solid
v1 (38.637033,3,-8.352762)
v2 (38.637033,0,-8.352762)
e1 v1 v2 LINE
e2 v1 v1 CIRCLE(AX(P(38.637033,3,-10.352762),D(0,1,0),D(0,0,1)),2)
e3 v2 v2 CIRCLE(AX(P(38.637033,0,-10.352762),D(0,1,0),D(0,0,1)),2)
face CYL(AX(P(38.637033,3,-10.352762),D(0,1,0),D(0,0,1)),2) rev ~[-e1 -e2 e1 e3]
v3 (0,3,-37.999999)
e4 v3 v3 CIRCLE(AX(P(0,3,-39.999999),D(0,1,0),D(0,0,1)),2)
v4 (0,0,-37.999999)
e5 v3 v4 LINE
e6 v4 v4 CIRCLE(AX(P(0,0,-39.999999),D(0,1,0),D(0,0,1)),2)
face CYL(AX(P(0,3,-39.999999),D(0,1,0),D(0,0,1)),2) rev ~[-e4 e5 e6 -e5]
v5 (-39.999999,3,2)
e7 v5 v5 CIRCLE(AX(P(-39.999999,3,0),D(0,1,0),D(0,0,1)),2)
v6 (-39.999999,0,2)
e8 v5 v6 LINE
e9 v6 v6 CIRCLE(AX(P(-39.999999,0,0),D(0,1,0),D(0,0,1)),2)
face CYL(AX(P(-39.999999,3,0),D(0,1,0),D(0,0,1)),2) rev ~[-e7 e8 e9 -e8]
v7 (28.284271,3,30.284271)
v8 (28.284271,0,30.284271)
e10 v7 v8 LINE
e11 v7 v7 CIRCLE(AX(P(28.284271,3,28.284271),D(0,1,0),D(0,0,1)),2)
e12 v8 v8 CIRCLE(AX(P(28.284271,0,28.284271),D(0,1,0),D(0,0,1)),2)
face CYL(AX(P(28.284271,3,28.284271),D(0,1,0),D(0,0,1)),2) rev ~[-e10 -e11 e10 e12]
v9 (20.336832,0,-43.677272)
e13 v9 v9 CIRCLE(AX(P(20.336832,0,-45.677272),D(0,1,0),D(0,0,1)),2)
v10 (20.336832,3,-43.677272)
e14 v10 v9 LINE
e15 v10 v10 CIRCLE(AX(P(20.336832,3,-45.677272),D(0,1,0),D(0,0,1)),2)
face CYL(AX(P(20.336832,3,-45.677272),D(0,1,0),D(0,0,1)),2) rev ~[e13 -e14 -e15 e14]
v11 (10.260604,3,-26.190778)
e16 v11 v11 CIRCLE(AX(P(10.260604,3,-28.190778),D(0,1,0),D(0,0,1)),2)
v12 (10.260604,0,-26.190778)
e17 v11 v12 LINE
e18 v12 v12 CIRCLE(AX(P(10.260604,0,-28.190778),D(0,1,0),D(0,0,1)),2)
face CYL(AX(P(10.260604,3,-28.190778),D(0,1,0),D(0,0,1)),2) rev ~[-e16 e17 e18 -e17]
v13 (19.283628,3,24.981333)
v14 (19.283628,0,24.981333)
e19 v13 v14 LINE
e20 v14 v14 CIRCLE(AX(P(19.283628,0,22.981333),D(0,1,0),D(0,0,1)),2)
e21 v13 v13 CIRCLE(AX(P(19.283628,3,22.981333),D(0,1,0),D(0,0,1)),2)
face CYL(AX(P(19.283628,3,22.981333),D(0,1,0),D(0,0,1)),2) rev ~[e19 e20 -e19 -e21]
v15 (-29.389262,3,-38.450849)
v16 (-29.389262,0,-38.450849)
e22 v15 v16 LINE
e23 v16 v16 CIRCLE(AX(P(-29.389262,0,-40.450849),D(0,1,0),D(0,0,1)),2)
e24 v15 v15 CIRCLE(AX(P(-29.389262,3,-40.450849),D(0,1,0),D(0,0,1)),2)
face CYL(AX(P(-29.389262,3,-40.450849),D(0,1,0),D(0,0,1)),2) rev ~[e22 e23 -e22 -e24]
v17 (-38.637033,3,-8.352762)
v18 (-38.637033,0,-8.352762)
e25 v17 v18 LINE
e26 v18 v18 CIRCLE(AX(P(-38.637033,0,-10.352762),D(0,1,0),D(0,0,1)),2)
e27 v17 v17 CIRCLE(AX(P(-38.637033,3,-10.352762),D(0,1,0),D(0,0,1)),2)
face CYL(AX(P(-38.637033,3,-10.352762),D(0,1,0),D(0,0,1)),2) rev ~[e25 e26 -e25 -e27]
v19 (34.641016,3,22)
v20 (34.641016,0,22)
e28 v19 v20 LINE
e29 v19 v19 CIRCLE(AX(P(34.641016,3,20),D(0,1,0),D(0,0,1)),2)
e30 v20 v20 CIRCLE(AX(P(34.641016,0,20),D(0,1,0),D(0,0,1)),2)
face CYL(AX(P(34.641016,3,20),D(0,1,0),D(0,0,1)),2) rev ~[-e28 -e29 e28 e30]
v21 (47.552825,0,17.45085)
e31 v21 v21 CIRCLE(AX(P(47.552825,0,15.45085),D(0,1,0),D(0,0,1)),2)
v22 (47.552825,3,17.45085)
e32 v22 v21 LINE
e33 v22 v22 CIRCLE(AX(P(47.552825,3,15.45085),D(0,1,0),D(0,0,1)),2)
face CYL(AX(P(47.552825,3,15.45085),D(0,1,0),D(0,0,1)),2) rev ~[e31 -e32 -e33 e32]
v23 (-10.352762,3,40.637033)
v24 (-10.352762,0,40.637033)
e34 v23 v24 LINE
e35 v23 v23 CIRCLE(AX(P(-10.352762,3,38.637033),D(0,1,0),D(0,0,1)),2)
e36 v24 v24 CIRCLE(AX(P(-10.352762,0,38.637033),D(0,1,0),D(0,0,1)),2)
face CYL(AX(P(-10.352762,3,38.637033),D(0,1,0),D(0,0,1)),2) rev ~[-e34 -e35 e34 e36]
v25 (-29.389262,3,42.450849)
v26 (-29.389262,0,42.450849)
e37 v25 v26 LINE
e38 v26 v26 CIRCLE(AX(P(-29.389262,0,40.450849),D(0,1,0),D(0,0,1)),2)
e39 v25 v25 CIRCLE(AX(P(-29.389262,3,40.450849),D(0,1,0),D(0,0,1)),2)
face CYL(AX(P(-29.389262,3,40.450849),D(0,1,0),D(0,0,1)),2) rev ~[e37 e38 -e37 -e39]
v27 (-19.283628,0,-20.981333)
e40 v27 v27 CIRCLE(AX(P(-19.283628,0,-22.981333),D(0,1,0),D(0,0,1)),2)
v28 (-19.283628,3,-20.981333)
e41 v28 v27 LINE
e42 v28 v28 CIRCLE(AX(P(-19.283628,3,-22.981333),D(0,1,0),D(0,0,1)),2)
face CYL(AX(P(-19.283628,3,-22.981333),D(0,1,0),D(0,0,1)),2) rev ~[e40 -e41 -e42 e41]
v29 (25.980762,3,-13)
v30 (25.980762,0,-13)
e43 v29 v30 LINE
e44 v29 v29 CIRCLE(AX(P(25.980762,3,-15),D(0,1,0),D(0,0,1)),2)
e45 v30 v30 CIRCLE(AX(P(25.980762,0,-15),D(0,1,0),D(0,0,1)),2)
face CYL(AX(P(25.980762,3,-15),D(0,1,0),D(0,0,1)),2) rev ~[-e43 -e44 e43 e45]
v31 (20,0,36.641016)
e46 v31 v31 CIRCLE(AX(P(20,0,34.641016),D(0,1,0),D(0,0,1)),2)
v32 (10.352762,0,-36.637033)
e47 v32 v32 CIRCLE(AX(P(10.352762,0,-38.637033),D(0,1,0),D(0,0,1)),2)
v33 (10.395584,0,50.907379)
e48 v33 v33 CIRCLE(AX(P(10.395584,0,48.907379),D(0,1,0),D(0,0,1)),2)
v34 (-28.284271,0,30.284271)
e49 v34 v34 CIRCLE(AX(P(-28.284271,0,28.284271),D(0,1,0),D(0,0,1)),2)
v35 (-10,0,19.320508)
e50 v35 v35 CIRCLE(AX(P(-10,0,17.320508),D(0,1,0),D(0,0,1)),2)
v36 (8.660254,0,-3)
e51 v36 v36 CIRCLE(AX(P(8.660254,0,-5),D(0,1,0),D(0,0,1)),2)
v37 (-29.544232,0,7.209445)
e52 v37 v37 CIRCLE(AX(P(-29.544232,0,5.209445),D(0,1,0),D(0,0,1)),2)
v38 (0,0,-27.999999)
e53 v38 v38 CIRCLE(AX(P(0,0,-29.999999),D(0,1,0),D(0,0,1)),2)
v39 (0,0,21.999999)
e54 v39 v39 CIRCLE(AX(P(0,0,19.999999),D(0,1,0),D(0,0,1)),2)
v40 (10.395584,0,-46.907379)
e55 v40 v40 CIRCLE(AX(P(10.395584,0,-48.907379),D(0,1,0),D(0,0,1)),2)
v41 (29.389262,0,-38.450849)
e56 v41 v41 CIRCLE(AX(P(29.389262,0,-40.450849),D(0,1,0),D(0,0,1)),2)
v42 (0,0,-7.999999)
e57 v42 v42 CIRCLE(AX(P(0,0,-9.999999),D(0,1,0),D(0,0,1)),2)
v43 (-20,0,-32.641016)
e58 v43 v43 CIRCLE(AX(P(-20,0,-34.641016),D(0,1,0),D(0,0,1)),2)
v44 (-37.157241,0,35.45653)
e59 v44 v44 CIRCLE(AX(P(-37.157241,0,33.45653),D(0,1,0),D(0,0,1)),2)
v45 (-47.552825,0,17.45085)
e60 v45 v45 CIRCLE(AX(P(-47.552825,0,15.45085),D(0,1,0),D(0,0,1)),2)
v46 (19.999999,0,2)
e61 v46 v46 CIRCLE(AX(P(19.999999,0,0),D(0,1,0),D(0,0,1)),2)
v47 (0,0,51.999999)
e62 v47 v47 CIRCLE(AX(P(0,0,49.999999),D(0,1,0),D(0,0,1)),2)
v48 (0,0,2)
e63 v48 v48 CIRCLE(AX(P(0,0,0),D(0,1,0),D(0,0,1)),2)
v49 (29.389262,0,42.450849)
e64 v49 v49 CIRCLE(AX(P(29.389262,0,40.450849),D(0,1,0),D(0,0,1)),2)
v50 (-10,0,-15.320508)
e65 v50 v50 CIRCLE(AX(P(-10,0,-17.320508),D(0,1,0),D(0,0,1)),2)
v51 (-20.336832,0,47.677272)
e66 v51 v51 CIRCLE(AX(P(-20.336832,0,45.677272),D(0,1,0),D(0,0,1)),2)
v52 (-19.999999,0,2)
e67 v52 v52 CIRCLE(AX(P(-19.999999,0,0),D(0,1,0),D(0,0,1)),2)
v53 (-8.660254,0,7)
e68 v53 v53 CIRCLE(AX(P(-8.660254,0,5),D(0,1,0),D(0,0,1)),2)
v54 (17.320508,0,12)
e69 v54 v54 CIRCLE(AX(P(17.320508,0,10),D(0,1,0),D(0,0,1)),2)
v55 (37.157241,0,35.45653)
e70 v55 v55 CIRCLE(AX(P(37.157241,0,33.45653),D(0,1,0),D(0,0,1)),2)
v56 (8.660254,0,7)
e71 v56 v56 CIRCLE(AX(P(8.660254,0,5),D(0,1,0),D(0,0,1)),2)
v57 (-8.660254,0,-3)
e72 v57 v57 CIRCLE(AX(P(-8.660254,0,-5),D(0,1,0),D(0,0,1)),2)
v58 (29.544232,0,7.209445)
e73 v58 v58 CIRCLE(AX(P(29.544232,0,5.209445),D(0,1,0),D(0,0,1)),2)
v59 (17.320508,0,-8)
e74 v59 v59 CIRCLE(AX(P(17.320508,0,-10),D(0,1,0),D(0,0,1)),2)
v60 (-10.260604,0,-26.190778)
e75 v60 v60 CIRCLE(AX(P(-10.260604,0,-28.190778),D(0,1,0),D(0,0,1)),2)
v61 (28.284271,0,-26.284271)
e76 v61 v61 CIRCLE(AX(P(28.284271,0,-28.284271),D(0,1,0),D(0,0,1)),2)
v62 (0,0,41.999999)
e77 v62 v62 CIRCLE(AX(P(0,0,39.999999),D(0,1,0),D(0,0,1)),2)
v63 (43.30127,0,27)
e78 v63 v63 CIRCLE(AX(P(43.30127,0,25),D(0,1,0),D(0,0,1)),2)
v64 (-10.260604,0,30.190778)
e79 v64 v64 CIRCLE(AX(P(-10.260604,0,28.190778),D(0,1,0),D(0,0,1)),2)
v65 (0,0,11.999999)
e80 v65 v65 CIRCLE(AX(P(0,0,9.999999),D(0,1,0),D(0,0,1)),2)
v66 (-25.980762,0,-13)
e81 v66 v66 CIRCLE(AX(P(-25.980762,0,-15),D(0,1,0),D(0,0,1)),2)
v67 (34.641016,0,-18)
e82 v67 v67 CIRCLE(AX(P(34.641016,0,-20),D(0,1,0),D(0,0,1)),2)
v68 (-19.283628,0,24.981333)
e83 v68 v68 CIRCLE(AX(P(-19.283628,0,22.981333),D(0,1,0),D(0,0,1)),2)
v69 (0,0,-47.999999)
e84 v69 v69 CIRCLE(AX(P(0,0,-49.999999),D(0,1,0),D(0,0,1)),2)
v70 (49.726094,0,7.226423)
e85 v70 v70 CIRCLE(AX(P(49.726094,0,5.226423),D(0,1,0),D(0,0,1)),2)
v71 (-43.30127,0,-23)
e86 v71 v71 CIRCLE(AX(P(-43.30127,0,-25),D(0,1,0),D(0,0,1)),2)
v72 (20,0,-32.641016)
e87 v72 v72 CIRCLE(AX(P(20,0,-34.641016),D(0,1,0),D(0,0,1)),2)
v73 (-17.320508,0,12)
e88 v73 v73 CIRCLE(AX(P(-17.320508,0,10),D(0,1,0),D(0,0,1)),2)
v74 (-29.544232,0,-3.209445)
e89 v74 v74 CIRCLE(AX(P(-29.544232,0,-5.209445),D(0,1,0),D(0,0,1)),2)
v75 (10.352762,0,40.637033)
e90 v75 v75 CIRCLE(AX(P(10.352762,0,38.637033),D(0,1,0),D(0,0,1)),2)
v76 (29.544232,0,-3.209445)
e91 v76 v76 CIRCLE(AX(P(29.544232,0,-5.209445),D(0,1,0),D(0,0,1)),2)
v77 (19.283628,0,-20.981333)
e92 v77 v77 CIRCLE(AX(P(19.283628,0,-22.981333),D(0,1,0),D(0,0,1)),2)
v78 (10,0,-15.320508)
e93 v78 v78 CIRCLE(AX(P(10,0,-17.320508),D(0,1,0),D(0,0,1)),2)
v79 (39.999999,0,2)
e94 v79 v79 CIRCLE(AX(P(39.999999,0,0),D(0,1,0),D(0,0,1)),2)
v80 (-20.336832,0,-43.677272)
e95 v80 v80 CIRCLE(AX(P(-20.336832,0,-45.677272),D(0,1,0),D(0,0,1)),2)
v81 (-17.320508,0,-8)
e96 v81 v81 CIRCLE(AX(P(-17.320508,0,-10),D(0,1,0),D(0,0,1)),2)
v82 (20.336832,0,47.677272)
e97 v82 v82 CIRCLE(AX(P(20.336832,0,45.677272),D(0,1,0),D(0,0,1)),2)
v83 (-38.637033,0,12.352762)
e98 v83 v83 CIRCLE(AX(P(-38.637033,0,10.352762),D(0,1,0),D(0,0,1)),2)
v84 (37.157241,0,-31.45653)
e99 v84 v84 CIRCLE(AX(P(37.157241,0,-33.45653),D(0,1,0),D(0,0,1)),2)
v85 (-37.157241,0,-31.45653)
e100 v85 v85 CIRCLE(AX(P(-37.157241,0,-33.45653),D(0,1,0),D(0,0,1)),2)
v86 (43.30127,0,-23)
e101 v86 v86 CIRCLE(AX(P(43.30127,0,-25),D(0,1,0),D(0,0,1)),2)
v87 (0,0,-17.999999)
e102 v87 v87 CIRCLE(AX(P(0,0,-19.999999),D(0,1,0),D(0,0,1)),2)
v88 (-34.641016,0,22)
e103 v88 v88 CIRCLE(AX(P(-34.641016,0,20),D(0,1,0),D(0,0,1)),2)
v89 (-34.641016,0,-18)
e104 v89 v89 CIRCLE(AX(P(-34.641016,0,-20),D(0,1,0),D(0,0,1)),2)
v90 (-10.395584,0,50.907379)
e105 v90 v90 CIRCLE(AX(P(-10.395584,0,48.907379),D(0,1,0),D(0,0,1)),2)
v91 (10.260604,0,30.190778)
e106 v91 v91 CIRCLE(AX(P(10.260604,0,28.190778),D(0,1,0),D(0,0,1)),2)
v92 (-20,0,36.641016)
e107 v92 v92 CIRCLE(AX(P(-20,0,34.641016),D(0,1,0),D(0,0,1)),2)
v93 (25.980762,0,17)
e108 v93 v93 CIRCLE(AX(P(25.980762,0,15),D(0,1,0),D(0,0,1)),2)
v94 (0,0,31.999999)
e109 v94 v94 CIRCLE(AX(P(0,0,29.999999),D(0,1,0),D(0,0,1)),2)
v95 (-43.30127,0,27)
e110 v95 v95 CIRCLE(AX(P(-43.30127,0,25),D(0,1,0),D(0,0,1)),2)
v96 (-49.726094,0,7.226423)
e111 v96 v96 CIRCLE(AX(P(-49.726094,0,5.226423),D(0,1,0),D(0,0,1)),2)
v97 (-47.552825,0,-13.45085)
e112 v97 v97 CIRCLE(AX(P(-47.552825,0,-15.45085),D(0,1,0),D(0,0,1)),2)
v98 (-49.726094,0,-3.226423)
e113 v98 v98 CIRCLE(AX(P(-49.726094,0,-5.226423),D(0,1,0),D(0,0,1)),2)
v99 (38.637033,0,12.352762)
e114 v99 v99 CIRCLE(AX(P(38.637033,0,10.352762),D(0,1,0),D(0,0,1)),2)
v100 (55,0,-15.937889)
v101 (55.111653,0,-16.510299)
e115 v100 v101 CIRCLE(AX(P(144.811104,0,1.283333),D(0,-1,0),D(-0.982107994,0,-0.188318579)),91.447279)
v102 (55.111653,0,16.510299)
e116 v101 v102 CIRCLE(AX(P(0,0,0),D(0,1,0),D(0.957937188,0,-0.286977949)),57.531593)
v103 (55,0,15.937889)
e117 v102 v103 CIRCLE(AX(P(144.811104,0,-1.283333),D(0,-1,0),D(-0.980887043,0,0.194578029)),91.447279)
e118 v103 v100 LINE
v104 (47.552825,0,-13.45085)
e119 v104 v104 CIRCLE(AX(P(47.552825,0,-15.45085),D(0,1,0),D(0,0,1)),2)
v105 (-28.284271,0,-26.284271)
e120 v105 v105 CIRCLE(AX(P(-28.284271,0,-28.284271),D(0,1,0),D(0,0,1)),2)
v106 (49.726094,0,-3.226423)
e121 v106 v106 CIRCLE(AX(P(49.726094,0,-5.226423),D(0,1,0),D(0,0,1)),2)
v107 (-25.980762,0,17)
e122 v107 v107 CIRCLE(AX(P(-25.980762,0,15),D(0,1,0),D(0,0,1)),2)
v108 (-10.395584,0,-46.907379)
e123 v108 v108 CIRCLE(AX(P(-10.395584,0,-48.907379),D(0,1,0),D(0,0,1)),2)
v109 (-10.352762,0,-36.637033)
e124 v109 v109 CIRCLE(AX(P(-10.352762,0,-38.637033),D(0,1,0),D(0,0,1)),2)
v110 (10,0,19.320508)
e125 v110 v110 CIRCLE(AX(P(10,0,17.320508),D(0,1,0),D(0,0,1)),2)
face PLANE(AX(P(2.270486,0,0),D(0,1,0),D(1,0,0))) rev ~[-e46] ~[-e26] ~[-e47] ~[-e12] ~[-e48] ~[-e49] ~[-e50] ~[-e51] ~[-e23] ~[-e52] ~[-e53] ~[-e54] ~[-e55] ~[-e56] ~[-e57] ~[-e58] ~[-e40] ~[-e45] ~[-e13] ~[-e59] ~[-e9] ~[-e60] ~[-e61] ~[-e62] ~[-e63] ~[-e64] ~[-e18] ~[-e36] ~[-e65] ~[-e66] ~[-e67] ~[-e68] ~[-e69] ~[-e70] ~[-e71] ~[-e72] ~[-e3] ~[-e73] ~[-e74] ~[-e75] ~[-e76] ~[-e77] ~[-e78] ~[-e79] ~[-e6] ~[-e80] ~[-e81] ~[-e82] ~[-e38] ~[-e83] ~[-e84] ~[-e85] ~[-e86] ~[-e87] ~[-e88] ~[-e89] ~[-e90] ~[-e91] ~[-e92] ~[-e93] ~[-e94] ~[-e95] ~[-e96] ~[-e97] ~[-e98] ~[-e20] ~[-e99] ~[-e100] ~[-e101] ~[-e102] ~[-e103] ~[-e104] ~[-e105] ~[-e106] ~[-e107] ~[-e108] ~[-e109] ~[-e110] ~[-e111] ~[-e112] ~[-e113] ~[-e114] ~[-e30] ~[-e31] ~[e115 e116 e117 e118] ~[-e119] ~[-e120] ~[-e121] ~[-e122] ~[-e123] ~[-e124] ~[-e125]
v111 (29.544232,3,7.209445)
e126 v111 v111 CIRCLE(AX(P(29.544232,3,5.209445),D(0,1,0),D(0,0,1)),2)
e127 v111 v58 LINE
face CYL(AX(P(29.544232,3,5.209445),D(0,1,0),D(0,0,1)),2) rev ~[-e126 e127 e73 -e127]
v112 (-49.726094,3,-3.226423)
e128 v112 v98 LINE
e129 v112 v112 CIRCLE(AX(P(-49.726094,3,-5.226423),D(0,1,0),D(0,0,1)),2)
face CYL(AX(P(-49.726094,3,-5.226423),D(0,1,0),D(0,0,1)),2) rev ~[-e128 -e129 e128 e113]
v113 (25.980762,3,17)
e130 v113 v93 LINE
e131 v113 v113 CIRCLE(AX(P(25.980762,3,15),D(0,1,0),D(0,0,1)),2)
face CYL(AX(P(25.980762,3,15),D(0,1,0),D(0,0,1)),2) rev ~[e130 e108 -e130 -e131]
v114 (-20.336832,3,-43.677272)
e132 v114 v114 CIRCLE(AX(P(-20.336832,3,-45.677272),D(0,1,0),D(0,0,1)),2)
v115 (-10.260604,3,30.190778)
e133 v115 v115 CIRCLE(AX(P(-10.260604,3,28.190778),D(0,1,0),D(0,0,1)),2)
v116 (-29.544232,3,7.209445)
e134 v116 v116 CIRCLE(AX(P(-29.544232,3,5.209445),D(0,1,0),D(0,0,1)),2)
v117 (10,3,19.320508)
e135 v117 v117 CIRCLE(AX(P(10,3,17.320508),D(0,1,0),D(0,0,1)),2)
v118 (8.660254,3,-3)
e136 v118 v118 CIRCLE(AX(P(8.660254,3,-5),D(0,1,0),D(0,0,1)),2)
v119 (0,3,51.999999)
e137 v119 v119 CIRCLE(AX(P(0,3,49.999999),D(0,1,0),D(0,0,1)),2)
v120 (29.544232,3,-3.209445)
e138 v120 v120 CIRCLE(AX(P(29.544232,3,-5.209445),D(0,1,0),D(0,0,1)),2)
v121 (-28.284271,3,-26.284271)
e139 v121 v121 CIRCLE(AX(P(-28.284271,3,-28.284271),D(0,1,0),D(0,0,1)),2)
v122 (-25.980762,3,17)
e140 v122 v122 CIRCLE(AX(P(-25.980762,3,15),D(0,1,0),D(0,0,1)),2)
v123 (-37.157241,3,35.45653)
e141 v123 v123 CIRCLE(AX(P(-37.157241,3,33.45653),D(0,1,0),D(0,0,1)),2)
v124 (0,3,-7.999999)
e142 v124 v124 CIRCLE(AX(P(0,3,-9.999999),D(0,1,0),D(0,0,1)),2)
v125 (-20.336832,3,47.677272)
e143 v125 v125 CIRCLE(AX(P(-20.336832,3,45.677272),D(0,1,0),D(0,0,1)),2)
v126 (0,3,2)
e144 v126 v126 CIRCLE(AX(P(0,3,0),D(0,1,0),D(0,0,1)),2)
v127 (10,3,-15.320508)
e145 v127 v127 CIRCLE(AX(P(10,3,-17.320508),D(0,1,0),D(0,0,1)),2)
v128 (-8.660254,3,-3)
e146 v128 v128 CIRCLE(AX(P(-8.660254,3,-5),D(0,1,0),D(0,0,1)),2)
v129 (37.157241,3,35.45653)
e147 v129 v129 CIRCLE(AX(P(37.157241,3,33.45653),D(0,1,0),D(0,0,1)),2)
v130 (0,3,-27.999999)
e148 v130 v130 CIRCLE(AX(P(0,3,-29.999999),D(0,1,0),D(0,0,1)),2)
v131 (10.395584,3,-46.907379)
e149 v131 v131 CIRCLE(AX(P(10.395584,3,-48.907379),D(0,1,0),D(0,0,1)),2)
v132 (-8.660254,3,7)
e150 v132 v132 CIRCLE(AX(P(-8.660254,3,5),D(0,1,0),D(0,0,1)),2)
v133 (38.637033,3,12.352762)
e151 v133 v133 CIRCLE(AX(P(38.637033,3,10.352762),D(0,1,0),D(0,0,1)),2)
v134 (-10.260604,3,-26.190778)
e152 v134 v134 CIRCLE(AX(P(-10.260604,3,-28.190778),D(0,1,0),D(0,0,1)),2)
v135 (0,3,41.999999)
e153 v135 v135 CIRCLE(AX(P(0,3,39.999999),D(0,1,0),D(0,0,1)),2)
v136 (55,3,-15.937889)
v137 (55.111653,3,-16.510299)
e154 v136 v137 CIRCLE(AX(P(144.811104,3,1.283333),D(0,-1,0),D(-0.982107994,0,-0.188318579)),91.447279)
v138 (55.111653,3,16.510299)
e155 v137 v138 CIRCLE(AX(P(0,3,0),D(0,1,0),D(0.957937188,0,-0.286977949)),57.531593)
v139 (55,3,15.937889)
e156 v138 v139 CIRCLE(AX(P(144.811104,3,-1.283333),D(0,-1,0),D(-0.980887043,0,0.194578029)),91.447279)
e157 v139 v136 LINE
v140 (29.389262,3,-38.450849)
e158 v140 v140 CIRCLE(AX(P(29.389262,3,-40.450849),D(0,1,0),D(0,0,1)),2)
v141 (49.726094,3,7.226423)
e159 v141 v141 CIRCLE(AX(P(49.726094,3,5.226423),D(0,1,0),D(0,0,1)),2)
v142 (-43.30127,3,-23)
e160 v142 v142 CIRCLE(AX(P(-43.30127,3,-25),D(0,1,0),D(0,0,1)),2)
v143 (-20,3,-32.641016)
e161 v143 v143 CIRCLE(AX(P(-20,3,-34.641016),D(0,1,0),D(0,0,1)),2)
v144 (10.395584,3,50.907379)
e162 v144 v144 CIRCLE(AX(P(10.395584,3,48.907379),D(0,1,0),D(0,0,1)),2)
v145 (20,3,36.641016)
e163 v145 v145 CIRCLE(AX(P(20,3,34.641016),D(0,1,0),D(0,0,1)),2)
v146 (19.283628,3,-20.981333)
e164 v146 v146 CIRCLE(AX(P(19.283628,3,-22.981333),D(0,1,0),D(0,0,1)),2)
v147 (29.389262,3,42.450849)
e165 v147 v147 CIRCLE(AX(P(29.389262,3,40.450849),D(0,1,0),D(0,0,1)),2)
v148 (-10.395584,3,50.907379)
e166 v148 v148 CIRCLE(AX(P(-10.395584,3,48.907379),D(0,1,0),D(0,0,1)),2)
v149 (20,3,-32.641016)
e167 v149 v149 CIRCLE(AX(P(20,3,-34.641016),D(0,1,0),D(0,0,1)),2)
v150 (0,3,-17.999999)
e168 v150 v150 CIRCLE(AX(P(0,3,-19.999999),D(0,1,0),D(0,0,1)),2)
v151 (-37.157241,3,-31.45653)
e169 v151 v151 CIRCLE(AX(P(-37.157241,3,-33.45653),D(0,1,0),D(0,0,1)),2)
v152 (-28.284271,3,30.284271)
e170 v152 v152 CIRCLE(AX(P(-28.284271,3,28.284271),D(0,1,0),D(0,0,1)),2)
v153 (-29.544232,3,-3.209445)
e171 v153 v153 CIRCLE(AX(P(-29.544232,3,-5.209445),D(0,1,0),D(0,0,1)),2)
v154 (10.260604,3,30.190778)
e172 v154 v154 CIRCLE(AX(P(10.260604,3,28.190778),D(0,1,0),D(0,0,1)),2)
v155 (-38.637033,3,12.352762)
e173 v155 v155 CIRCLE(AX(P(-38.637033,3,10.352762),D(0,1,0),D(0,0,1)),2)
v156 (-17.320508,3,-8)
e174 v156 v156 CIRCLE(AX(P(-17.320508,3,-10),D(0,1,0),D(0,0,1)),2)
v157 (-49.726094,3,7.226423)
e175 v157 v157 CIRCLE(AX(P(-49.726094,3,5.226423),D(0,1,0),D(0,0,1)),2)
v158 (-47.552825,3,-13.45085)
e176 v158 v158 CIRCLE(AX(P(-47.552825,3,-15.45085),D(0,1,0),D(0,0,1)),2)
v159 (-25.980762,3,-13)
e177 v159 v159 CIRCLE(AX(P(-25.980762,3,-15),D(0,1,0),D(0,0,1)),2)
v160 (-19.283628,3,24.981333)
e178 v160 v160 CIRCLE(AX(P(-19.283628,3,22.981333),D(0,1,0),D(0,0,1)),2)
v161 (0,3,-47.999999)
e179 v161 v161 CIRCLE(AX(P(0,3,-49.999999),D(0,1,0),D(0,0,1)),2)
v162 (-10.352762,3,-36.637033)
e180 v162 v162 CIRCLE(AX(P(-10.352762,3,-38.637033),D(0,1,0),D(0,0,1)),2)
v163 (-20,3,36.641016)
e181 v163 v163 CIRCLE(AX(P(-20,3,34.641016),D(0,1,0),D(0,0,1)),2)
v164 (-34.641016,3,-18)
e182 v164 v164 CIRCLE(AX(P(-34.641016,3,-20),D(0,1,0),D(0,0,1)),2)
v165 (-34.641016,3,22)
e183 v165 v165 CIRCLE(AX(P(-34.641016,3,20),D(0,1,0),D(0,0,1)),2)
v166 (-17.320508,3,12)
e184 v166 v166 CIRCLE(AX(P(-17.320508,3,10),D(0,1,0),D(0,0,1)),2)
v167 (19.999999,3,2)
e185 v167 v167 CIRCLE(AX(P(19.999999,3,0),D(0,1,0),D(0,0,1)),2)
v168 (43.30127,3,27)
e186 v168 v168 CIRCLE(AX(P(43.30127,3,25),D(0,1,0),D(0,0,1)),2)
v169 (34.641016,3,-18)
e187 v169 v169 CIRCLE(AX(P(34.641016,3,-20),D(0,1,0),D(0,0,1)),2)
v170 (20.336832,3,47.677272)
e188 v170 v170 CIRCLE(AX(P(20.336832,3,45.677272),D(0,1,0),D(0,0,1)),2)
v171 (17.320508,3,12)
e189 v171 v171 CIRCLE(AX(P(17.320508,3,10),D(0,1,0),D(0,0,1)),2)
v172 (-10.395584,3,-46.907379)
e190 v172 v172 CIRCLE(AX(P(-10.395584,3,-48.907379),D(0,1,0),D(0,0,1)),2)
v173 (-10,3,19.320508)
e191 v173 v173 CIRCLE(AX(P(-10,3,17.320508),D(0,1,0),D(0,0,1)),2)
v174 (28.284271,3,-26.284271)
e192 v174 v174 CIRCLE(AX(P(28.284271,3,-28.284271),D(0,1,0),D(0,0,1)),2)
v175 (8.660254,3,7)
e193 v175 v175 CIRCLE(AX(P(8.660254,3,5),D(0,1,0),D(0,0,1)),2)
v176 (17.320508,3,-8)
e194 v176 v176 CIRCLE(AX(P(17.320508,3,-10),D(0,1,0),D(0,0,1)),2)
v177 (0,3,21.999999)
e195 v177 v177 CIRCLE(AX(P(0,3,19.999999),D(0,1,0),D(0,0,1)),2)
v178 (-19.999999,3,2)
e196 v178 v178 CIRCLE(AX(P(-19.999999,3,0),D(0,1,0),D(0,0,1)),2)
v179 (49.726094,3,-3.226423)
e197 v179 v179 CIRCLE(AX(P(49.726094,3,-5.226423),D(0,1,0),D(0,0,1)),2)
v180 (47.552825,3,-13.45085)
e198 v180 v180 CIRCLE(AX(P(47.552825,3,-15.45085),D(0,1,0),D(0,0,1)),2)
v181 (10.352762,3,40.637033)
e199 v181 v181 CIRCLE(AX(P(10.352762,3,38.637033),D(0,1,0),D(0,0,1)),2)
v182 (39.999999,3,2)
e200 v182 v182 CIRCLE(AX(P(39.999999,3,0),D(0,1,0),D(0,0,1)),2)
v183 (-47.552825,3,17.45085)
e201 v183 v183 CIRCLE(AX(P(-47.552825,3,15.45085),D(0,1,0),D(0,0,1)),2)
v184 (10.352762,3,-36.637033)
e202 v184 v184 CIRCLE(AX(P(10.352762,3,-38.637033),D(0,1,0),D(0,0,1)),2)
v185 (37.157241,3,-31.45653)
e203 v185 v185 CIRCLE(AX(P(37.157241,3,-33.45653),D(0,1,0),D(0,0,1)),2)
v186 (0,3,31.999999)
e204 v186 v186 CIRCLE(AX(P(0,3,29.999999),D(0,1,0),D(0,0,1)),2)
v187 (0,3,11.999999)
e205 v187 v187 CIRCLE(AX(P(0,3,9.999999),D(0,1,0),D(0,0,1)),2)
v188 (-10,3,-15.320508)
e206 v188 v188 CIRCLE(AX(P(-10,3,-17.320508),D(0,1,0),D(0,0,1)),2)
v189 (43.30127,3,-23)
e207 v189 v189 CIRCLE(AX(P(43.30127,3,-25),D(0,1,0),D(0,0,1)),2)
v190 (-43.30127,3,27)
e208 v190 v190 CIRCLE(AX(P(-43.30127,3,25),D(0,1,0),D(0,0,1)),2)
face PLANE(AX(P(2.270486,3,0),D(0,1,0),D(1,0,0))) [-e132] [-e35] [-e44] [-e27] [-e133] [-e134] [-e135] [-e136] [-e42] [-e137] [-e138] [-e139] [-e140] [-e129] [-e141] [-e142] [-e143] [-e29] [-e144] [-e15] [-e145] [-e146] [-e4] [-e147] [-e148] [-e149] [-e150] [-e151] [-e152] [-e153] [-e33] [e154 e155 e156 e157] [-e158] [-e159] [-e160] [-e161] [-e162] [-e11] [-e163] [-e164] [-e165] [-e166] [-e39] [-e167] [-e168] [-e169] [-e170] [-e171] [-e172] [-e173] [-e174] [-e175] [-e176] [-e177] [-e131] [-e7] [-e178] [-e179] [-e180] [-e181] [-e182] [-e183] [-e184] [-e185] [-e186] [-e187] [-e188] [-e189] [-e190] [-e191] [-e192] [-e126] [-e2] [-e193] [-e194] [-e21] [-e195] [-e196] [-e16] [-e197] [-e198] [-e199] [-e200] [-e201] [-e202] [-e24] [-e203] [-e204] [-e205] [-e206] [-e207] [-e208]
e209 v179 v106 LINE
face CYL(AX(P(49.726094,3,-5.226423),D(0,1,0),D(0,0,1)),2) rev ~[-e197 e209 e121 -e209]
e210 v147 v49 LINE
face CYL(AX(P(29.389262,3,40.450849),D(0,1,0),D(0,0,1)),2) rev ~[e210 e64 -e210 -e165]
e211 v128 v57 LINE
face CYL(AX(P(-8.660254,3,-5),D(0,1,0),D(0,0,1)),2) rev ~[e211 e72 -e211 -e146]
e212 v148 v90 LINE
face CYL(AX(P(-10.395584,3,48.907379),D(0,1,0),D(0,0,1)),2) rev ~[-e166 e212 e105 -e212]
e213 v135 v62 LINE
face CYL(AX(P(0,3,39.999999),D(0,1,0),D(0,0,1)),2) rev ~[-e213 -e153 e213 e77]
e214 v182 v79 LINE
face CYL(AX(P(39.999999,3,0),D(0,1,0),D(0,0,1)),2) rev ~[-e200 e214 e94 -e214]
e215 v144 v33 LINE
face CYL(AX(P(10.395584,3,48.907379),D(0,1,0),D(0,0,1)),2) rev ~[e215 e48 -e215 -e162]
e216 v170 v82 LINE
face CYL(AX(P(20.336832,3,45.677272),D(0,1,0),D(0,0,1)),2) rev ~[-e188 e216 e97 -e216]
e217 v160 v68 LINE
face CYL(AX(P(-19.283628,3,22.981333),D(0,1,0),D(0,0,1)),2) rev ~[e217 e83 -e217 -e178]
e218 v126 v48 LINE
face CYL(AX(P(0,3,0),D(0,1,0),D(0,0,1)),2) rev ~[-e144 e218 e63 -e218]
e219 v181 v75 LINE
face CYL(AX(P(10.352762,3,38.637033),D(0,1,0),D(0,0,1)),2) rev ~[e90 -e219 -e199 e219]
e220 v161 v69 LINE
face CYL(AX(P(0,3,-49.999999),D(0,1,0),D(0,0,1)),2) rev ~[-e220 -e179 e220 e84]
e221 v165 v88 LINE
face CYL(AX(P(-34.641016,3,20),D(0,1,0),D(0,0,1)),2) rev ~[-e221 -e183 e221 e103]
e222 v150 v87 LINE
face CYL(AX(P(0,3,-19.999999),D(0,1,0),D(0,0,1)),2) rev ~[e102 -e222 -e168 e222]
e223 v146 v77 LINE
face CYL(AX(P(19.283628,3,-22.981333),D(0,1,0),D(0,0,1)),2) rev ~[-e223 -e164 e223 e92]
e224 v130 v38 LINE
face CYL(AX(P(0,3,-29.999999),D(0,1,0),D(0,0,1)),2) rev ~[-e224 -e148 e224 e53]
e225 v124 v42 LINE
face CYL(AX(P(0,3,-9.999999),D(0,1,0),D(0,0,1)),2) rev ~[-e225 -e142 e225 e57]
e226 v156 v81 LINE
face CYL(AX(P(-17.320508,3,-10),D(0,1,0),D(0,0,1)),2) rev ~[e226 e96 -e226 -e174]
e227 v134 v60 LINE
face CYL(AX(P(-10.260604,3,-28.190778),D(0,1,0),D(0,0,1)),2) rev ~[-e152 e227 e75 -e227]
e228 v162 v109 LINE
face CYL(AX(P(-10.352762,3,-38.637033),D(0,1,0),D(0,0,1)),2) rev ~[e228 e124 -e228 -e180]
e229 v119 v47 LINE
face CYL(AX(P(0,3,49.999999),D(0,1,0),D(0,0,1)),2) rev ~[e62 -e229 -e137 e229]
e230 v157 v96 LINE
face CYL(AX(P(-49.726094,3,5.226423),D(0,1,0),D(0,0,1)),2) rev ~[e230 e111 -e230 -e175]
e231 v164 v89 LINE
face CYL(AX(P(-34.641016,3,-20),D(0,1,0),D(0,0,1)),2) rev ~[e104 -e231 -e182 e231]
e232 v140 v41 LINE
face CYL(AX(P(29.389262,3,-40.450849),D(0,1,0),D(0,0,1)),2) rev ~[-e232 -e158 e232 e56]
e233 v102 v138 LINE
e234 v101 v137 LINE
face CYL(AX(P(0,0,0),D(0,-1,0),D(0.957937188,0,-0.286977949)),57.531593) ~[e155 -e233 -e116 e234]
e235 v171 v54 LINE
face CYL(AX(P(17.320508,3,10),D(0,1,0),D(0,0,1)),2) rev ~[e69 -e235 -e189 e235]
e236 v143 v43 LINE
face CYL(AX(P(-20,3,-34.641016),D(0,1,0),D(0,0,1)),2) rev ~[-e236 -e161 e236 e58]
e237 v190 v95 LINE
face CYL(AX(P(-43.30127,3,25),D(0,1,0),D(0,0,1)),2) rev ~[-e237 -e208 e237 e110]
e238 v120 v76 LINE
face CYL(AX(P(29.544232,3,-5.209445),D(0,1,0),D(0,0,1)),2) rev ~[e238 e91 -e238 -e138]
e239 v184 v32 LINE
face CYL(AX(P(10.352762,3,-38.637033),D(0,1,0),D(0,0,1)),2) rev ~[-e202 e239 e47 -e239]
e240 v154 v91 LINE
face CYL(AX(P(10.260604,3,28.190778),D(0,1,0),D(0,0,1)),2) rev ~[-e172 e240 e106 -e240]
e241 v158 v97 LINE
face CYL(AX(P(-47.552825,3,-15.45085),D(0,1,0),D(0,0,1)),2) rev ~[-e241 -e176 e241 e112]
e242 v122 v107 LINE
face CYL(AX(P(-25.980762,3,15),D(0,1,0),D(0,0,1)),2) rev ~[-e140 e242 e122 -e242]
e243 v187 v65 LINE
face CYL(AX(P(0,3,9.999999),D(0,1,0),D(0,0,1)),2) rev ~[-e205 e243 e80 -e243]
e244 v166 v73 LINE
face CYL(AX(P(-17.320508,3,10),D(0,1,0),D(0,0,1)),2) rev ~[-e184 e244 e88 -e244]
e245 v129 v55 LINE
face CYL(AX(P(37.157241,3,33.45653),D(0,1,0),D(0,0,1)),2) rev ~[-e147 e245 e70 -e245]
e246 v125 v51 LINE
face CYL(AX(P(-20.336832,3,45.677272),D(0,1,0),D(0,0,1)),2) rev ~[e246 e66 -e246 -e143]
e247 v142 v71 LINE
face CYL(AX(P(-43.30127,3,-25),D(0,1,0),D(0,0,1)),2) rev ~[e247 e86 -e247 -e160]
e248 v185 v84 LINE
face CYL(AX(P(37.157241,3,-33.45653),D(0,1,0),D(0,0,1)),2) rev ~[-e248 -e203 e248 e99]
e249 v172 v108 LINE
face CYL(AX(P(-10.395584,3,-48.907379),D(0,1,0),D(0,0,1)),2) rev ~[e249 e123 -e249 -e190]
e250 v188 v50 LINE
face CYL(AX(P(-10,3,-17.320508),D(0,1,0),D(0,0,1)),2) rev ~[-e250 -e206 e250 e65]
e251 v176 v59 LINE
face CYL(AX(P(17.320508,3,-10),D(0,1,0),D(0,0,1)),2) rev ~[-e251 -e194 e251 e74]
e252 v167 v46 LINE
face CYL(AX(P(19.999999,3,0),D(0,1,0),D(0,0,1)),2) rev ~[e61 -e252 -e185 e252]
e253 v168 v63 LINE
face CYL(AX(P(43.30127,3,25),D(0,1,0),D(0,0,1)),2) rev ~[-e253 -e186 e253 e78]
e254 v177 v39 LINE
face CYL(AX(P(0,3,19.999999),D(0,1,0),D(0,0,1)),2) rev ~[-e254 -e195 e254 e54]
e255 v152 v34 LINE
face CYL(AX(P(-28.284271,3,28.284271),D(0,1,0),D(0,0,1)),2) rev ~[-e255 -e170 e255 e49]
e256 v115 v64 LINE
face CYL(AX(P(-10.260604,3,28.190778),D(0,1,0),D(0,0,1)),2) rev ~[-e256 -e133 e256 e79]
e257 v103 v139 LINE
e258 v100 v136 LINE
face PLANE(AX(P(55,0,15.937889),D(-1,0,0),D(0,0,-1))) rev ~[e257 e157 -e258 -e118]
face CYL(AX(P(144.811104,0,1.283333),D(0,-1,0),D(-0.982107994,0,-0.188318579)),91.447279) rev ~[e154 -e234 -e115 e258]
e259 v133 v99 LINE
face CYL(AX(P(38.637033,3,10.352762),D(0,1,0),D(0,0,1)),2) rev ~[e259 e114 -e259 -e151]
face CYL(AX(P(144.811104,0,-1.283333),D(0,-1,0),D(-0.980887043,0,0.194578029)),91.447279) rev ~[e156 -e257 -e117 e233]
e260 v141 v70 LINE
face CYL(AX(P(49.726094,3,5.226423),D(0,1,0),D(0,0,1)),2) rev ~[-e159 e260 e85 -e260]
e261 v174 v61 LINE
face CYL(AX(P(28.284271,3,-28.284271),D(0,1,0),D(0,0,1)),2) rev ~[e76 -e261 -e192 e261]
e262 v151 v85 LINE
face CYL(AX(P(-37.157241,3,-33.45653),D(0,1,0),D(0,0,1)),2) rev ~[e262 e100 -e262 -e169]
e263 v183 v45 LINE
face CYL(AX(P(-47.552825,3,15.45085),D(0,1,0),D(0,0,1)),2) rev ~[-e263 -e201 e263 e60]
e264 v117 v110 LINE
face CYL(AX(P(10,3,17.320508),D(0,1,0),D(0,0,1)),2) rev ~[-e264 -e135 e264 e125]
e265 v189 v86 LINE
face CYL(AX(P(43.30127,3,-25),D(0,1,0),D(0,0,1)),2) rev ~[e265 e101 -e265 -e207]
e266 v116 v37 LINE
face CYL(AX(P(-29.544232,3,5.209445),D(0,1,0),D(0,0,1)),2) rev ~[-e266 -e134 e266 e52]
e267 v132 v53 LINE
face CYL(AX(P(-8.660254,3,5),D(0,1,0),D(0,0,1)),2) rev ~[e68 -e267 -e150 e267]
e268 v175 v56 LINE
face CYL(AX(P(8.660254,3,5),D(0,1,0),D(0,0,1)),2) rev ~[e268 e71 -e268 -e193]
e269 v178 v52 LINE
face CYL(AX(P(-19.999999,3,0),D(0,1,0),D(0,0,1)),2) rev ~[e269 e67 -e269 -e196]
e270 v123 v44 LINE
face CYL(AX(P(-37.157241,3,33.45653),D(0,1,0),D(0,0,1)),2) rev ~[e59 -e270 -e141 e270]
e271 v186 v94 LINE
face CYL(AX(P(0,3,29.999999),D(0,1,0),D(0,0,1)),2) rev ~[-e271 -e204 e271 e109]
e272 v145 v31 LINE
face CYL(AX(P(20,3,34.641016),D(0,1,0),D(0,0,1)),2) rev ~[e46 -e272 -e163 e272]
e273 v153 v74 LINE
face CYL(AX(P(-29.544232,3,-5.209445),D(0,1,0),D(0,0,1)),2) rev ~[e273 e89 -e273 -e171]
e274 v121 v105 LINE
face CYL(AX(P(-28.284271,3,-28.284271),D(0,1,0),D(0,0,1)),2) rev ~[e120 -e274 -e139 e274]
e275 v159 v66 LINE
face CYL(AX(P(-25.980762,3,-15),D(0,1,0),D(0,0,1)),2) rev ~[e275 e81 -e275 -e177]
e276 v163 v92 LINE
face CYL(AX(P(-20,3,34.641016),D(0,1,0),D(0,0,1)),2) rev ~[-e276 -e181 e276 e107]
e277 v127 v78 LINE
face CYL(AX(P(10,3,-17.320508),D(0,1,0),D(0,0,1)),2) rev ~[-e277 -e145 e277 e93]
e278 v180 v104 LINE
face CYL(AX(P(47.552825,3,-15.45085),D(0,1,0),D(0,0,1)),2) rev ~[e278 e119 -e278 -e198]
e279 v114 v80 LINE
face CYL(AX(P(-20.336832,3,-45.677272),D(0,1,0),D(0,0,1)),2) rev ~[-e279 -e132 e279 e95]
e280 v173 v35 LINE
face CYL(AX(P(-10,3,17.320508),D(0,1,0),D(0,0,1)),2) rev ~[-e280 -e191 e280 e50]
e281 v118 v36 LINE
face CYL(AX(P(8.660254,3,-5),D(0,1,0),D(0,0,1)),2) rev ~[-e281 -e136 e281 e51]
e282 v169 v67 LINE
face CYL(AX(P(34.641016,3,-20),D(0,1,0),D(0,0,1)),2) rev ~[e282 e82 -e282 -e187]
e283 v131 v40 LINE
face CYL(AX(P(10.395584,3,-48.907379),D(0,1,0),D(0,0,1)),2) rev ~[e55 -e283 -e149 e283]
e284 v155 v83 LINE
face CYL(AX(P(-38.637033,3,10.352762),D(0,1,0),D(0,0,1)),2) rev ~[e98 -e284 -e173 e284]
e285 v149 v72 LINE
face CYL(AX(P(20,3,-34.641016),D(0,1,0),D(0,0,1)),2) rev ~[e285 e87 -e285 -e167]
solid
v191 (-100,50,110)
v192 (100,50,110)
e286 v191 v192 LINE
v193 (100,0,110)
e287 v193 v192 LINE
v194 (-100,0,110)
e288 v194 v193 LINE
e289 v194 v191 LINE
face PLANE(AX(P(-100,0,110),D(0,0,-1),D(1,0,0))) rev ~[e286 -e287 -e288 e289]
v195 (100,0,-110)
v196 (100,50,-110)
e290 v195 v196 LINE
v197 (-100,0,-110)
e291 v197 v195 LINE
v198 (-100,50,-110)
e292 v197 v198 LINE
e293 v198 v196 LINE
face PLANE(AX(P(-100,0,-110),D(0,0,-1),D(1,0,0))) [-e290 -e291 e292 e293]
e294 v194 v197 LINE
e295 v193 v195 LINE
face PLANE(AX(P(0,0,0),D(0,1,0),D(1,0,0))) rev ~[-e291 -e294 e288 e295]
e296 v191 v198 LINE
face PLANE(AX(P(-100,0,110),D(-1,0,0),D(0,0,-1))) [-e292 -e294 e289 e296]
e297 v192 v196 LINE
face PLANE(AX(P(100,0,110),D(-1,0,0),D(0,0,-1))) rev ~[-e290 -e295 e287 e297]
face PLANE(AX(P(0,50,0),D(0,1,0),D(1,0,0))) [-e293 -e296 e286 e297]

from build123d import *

# Parameters (mm, degrees)
SKETCH1_W            = 200
SKETCH1_H            = 220
BOSS_EXTRUDE1_DEPTH  = 50
BOSS_EXTRUDE20_DEPTH = 3
SKETCH56_R           = 2
CUT_EXTRUDE18_DEPTH  = 4


with BuildPart() as part:
    # Sketch1 → Boss-Extrude1 (new body)
    with BuildSketch(Plane(origin=(0, 0, 0), x_dir=(1, 0, 0), z_dir=(0, 1, 0))):
        Rectangle(SKETCH1_W, SKETCH1_H)
    extrude(amount=BOSS_EXTRUDE1_DEPTH)


with BuildPart() as body_2:
    # Sketch55 → Boss-Extrude20 (new body)
    with BuildSketch(Plane(origin=(0, 0, 0), x_dir=(1, 0, 0), z_dir=(0, 1, 0))):
        with BuildLine():
            Line((55, -15.93788892), (55, -12.5))
            Line((55, -12.5), (55, 12.5))
            Line((55, 12.5), (55, 15.93788892))
            ThreePointArc((55, 15.93788892), (55.055370047, 16.224182781), (55.11165272, 16.510298627))
            ThreePointArc((55.11165272, 16.510298627), (-57.531593289, 0), (55.11165272, -16.510298627))
            ThreePointArc((55.11165272, -16.510298627), (55.055370047, -16.224182781), (55, -15.93788892))
        make_face()
    extrude(amount=BOSS_EXTRUDE20_DEPTH)

    # Sketch56 → Cut-Extrude18 (cut, through all)
    with BuildSketch(Plane(origin=(0, 3, 0), x_dir=(1, 0, 0), z_dir=(0, 1, 0))):
        with Locations(Location((0, 0, 0), (0, 0, 270))):  # turned: the seam where the file's is
            Circle(SKETCH56_R)
        with Locations(Location((0, 49.999999444, 0), (0, 0, 270))):  # turned: the seam where the file's is
            Circle(SKETCH56_R)
        with Locations(Location((0, 39.999999444, 0), (0, 0, 270))):  # turned: the seam where the file's is
            Circle(SKETCH56_R)
        with Locations(Location((0, 29.999999444, 0), (0, 0, 270))):  # turned: the seam where the file's is
            Circle(SKETCH56_R)
        with Locations(Location((0, 19.999999444, 0), (0, 0, 270))):  # turned: the seam where the file's is
            Circle(SKETCH56_R)
        with Locations(Location((0, 9.999999444, 0), (0, 0, 270))):  # turned: the seam where the file's is
            Circle(SKETCH56_R)
        with Locations(Location((10.26060411, 28.190778101, 0), (0, 0, 270))):  # turned: the seam where the file's is
            Circle(SKETCH56_R)
        with Locations(Location((17.320507594, 9.999999722, 0), (0, 0, 270))):  # turned: the seam where the file's is
            Circle(SKETCH56_R)
        with Locations(Location((9.999999722, 17.320507594, 0), (0, 0, 270))):  # turned: the seam where the file's is
            Circle(SKETCH56_R)
        with Locations(Location((-8.660253556, 4.999999722, 0), (0, 0, 270))):  # turned: the seam where the file's is
            Circle(SKETCH56_R)
        with Locations(Location((-8.660253556, -4.999999722, 0), (0, 0, 270))):  # turned: the seam where the file's is
            Circle(SKETCH56_R)
        with Locations(Location((0, -9.999999444, 0), (0, 0, 270))):  # turned: the seam where the file's is
            Circle(SKETCH56_R)
        with Locations(Location((8.660253556, -4.999999722, 0), (0, 0, 270))):  # turned: the seam where the file's is
            Circle(SKETCH56_R)
        with Locations(Location((8.660253556, 4.999999722, 0), (0, 0, 270))):  # turned: the seam where the file's is
            Circle(SKETCH56_R)
        with Locations(Location((-17.320507594, 9.999999722, 0), (0, 0, 270))):  # turned: the seam where the file's is
            Circle(SKETCH56_R)
        with Locations(Location((-19.999999444, 0, 0), (0, 0, 270))):  # turned: the seam where the file's is
            Circle(SKETCH56_R)
        with Locations(Location((-17.320507594, -9.999999722, 0), (0, 0, 270))):  # turned: the seam where the file's is
            Circle(SKETCH56_R)
        with Locations(Location((-9.999999722, -17.320507594, 0), (0, 0, 270))):  # turned: the seam where the file's is
            Circle(SKETCH56_R)
        with Locations(Location((0, -19.999999444, 0), (0, 0, 270))):  # turned: the seam where the file's is
            Circle(SKETCH56_R)
        with Locations(Location((9.999999722, -17.320507594, 0), (0, 0, 270))):  # turned: the seam where the file's is
            Circle(SKETCH56_R)
        with Locations(Location((17.320507594, -9.999999722, 0), (0, 0, 270))):  # turned: the seam where the file's is
            Circle(SKETCH56_R)
        with Locations(Location((19.999999444, 0, 0), (0, 0, 270))):  # turned: the seam where the file's is
            Circle(SKETCH56_R)
        with Locations(Location((10.35276166, 38.637032514, 0), (0, 0, 270))):  # turned: the seam where the file's is
            Circle(SKETCH56_R)
        with Locations(Location((19.283627933, -22.981332867, 0), (0, 0, 270))):  # turned: the seam where the file's is
            Circle(SKETCH56_R)
        with Locations(Location((25.980761632, -14.999999722, 0), (0, 0, 270))):  # turned: the seam where the file's is
            Circle(SKETCH56_R)
        with Locations(Location((29.544232043, -5.209445233, 0), (0, 0, 270))):  # turned: the seam where the file's is
            Circle(SKETCH56_R)
        with Locations(Location((29.544232043, 5.209445233, 0), (0, 0, 270))):  # turned: the seam where the file's is
            Circle(SKETCH56_R)
        with Locations(Location((25.980761632, 14.999999722, 0), (0, 0, 270))):  # turned: the seam where the file's is
            Circle(SKETCH56_R)
        with Locations(Location((19.283627933, 22.981332867, 0), (0, 0, 270))):  # turned: the seam where the file's is
            Circle(SKETCH56_R)
        with Locations(Location((-9.999999722, 17.320507594, 0), (0, 0, 270))):  # turned: the seam where the file's is
            Circle(SKETCH56_R)
        with Locations(Location((-25.980761632, 14.999999722, 0), (0, 0, 270))):  # turned: the seam where the file's is
            Circle(SKETCH56_R)
        with Locations(Location((-29.544232043, 5.209445233, 0), (0, 0, 270))):  # turned: the seam where the file's is
            Circle(SKETCH56_R)
        with Locations(Location((-29.544232043, -5.209445233, 0), (0, 0, 270))):  # turned: the seam where the file's is
            Circle(SKETCH56_R)
        with Locations(Location((-25.980761632, -14.999999722, 0), (0, 0, 270))):  # turned: the seam where the file's is
            Circle(SKETCH56_R)
        with Locations(Location((-19.283627933, -22.981332867, 0), (0, 0, 270))):  # turned: the seam where the file's is
            Circle(SKETCH56_R)
        with Locations(Location((-10.26060411, -28.190778101, 0), (0, 0, 270))):  # turned: the seam where the file's is
            Circle(SKETCH56_R)
        with Locations(Location((0, -29.999999444, 0), (0, 0, 270))):  # turned: the seam where the file's is
            Circle(SKETCH56_R)
        with Locations(Location((10.26060411, -28.190778101, 0), (0, 0, 270))):  # turned: the seam where the file's is
            Circle(SKETCH56_R)
        with Locations(Location((10.395584425, 48.907379493, 0), (0, 0, 270))):  # turned: the seam where the file's is
            Circle(SKETCH56_R)
        with Locations(Location((38.637032514, 10.35276166, 0), (0, 0, 270))):  # turned: the seam where the file's is
            Circle(SKETCH56_R)
        with Locations(Location((34.64101567, 19.999999722, 0), (0, 0, 270))):  # turned: the seam where the file's is
            Circle(SKETCH56_R)
        with Locations(Location((28.284270854, 28.284270854, 0), (0, 0, 270))):  # turned: the seam where the file's is
            Circle(SKETCH56_R)
        with Locations(Location((19.999999722, 34.64101567, 0), (0, 0, 270))):  # turned: the seam where the file's is
            Circle(SKETCH56_R)
        with Locations(Location((-10.26060411, 28.190778101, 0), (0, 0, 270))):  # turned: the seam where the file's is
            Circle(SKETCH56_R)
        with Locations(Location((-19.283627933, 22.981332867, 0), (0, 0, 270))):  # turned: the seam where the file's is
            Circle(SKETCH56_R)
        with Locations(Location((-10.35276166, -38.637032514, 0), (0, 0, 270))):  # turned: the seam where the file's is
            Circle(SKETCH56_R)
        with Locations(Location((0, -39.999999444, 0), (0, 0, 270))):  # turned: the seam where the file's is
            Circle(SKETCH56_R)
        with Locations(Location((10.35276166, -38.637032514, 0), (0, 0, 270))):  # turned: the seam where the file's is
            Circle(SKETCH56_R)
        with Locations(Location((19.999999722, -34.64101567, 0), (0, 0, 270))):  # turned: the seam where the file's is
            Circle(SKETCH56_R)
        with Locations(Location((28.284270854, -28.284270854, 0), (0, 0, 270))):  # turned: the seam where the file's is
            Circle(SKETCH56_R)
        with Locations(Location((34.64101567, -19.999999722, 0), (0, 0, 270))):  # turned: the seam where the file's is
            Circle(SKETCH56_R)
        with Locations(Location((38.637032514, -10.35276166, 0), (0, 0, 270))):  # turned: the seam where the file's is
            Circle(SKETCH56_R)
        with Locations(Location((39.999999444, 0, 0), (0, 0, 270))):  # turned: the seam where the file's is
            Circle(SKETCH56_R)
        with Locations(Location((-28.284270854, 28.284270854, 0), (0, 0, 270))):  # turned: the seam where the file's is
            Circle(SKETCH56_R)
        with Locations(Location((-34.64101567, 19.999999722, 0), (0, 0, 270))):  # turned: the seam where the file's is
            Circle(SKETCH56_R)
        with Locations(Location((-38.637032514, 10.35276166, 0), (0, 0, 270))):  # turned: the seam where the file's is
            Circle(SKETCH56_R)
        with Locations(Location((-39.999999444, 0, 0), (0, 0, 270))):  # turned: the seam where the file's is
            Circle(SKETCH56_R)
        with Locations(Location((-38.637032514, -10.35276166, 0), (0, 0, 270))):  # turned: the seam where the file's is
            Circle(SKETCH56_R)
        with Locations(Location((-34.64101567, -19.999999722, 0), (0, 0, 270))):  # turned: the seam where the file's is
            Circle(SKETCH56_R)
        with Locations(Location((-28.284270854, -28.284270854, 0), (0, 0, 270))):  # turned: the seam where the file's is
            Circle(SKETCH56_R)
        with Locations(Location((-19.999999722, -34.64101567, 0), (0, 0, 270))):  # turned: the seam where the file's is
            Circle(SKETCH56_R)
        with Locations(Location((49.726094215, 5.226423105, 0), (0, 0, 270))):  # turned: the seam where the file's is
            Circle(SKETCH56_R)
        with Locations(Location((47.552825286, 15.450849547, 0), (0, 0, 270))):  # turned: the seam where the file's is
            Circle(SKETCH56_R)
        with Locations(Location((43.301269707, 24.999999722, 0), (0, 0, 270))):  # turned: the seam where the file's is
            Circle(SKETCH56_R)
        with Locations(Location((37.15724086, 33.456529946, 0), (0, 0, 270))):  # turned: the seam where the file's is
            Circle(SKETCH56_R)
        with Locations(Location((29.389262288, 40.450849269, 0), (0, 0, 270))):  # turned: the seam where the file's is
            Circle(SKETCH56_R)
        with Locations(Location((20.336831928, 45.677272374, 0), (0, 0, 270))):  # turned: the seam where the file's is
            Circle(SKETCH56_R)
        with Locations(Location((-19.999999722, 34.64101567, 0), (0, 0, 270))):  # turned: the seam where the file's is
            Circle(SKETCH56_R)
        with Locations(Location((0, -49.999999444, 0), (0, 0, 270))):  # turned: the seam where the file's is
            Circle(SKETCH56_R)
        with Locations(Location((10.395584425, -48.907379493, 0), (0, 0, 270))):  # turned: the seam where the file's is
            Circle(SKETCH56_R)
        with Locations(Location((20.336831928, -45.677272374, 0), (0, 0, 270))):  # turned: the seam where the file's is
            Circle(SKETCH56_R)
        with Locations(Location((29.389262288, -40.450849269, 0), (0, 0, 270))):  # turned: the seam where the file's is
            Circle(SKETCH56_R)
        with Locations(Location((37.15724086, -33.456529946, 0), (0, 0, 270))):  # turned: the seam where the file's is
            Circle(SKETCH56_R)
        with Locations(Location((43.301269707, -24.999999722, 0), (0, 0, 270))):  # turned: the seam where the file's is
            Circle(SKETCH56_R)
        with Locations(Location((47.552825286, -15.450849547, 0), (0, 0, 270))):  # turned: the seam where the file's is
            Circle(SKETCH56_R)
        with Locations(Location((49.726094215, -5.226423105, 0), (0, 0, 270))):  # turned: the seam where the file's is
            Circle(SKETCH56_R)
        with Locations(Location((-49.726094215, 5.226423105, 0), (0, 0, 270))):  # turned: the seam where the file's is
            Circle(SKETCH56_R)
        with Locations(Location((-49.726094215, -5.226423105, 0), (0, 0, 270))):  # turned: the seam where the file's is
            Circle(SKETCH56_R)
        with Locations(Location((-47.552825286, -15.450849547, 0), (0, 0, 270))):  # turned: the seam where the file's is
            Circle(SKETCH56_R)
        with Locations(Location((-43.301269707, -24.999999722, 0), (0, 0, 270))):  # turned: the seam where the file's is
            Circle(SKETCH56_R)
        with Locations(Location((-37.15724086, -33.456529946, 0), (0, 0, 270))):  # turned: the seam where the file's is
            Circle(SKETCH56_R)
        with Locations(Location((-29.389262288, -40.450849269, 0), (0, 0, 270))):  # turned: the seam where the file's is
            Circle(SKETCH56_R)
        with Locations(Location((-20.336831928, -45.677272374, 0), (0, 0, 270))):  # turned: the seam where the file's is
            Circle(SKETCH56_R)
        with Locations(Location((-10.395584425, -48.907379493, 0), (0, 0, 270))):  # turned: the seam where the file's is
            Circle(SKETCH56_R)
        with Locations(Location((-10.35276166, 38.637032514, 0), (0, 0, 270))):  # turned: the seam where the file's is
            Circle(SKETCH56_R)
        with Locations(Location((-10.395584425, 48.907379493, 0), (0, 0, 270))):  # turned: the seam where the file's is
            Circle(SKETCH56_R)
        with Locations(Location((-20.336831928, 45.677272374, 0), (0, 0, 270))):  # turned: the seam where the file's is
            Circle(SKETCH56_R)
        with Locations(Location((-29.389262288, 40.450849269, 0), (0, 0, 270))):  # turned: the seam where the file's is
            Circle(SKETCH56_R)
        with Locations(Location((-37.15724086, 33.456529946, 0), (0, 0, 270))):  # turned: the seam where the file's is
            Circle(SKETCH56_R)
        with Locations(Location((-43.301269707, 24.999999722, 0), (0, 0, 270))):  # turned: the seam where the file's is
            Circle(SKETCH56_R)
        with Locations(Location((-47.552825286, 15.450849547, 0), (0, 0, 270))):  # turned: the seam where the file's is
            Circle(SKETCH56_R)
    extrude(amount=-CUT_EXTRUDE18_DEPTH, mode=Mode.SUBTRACT)


solid = Compound([part.part, body_2.part])
